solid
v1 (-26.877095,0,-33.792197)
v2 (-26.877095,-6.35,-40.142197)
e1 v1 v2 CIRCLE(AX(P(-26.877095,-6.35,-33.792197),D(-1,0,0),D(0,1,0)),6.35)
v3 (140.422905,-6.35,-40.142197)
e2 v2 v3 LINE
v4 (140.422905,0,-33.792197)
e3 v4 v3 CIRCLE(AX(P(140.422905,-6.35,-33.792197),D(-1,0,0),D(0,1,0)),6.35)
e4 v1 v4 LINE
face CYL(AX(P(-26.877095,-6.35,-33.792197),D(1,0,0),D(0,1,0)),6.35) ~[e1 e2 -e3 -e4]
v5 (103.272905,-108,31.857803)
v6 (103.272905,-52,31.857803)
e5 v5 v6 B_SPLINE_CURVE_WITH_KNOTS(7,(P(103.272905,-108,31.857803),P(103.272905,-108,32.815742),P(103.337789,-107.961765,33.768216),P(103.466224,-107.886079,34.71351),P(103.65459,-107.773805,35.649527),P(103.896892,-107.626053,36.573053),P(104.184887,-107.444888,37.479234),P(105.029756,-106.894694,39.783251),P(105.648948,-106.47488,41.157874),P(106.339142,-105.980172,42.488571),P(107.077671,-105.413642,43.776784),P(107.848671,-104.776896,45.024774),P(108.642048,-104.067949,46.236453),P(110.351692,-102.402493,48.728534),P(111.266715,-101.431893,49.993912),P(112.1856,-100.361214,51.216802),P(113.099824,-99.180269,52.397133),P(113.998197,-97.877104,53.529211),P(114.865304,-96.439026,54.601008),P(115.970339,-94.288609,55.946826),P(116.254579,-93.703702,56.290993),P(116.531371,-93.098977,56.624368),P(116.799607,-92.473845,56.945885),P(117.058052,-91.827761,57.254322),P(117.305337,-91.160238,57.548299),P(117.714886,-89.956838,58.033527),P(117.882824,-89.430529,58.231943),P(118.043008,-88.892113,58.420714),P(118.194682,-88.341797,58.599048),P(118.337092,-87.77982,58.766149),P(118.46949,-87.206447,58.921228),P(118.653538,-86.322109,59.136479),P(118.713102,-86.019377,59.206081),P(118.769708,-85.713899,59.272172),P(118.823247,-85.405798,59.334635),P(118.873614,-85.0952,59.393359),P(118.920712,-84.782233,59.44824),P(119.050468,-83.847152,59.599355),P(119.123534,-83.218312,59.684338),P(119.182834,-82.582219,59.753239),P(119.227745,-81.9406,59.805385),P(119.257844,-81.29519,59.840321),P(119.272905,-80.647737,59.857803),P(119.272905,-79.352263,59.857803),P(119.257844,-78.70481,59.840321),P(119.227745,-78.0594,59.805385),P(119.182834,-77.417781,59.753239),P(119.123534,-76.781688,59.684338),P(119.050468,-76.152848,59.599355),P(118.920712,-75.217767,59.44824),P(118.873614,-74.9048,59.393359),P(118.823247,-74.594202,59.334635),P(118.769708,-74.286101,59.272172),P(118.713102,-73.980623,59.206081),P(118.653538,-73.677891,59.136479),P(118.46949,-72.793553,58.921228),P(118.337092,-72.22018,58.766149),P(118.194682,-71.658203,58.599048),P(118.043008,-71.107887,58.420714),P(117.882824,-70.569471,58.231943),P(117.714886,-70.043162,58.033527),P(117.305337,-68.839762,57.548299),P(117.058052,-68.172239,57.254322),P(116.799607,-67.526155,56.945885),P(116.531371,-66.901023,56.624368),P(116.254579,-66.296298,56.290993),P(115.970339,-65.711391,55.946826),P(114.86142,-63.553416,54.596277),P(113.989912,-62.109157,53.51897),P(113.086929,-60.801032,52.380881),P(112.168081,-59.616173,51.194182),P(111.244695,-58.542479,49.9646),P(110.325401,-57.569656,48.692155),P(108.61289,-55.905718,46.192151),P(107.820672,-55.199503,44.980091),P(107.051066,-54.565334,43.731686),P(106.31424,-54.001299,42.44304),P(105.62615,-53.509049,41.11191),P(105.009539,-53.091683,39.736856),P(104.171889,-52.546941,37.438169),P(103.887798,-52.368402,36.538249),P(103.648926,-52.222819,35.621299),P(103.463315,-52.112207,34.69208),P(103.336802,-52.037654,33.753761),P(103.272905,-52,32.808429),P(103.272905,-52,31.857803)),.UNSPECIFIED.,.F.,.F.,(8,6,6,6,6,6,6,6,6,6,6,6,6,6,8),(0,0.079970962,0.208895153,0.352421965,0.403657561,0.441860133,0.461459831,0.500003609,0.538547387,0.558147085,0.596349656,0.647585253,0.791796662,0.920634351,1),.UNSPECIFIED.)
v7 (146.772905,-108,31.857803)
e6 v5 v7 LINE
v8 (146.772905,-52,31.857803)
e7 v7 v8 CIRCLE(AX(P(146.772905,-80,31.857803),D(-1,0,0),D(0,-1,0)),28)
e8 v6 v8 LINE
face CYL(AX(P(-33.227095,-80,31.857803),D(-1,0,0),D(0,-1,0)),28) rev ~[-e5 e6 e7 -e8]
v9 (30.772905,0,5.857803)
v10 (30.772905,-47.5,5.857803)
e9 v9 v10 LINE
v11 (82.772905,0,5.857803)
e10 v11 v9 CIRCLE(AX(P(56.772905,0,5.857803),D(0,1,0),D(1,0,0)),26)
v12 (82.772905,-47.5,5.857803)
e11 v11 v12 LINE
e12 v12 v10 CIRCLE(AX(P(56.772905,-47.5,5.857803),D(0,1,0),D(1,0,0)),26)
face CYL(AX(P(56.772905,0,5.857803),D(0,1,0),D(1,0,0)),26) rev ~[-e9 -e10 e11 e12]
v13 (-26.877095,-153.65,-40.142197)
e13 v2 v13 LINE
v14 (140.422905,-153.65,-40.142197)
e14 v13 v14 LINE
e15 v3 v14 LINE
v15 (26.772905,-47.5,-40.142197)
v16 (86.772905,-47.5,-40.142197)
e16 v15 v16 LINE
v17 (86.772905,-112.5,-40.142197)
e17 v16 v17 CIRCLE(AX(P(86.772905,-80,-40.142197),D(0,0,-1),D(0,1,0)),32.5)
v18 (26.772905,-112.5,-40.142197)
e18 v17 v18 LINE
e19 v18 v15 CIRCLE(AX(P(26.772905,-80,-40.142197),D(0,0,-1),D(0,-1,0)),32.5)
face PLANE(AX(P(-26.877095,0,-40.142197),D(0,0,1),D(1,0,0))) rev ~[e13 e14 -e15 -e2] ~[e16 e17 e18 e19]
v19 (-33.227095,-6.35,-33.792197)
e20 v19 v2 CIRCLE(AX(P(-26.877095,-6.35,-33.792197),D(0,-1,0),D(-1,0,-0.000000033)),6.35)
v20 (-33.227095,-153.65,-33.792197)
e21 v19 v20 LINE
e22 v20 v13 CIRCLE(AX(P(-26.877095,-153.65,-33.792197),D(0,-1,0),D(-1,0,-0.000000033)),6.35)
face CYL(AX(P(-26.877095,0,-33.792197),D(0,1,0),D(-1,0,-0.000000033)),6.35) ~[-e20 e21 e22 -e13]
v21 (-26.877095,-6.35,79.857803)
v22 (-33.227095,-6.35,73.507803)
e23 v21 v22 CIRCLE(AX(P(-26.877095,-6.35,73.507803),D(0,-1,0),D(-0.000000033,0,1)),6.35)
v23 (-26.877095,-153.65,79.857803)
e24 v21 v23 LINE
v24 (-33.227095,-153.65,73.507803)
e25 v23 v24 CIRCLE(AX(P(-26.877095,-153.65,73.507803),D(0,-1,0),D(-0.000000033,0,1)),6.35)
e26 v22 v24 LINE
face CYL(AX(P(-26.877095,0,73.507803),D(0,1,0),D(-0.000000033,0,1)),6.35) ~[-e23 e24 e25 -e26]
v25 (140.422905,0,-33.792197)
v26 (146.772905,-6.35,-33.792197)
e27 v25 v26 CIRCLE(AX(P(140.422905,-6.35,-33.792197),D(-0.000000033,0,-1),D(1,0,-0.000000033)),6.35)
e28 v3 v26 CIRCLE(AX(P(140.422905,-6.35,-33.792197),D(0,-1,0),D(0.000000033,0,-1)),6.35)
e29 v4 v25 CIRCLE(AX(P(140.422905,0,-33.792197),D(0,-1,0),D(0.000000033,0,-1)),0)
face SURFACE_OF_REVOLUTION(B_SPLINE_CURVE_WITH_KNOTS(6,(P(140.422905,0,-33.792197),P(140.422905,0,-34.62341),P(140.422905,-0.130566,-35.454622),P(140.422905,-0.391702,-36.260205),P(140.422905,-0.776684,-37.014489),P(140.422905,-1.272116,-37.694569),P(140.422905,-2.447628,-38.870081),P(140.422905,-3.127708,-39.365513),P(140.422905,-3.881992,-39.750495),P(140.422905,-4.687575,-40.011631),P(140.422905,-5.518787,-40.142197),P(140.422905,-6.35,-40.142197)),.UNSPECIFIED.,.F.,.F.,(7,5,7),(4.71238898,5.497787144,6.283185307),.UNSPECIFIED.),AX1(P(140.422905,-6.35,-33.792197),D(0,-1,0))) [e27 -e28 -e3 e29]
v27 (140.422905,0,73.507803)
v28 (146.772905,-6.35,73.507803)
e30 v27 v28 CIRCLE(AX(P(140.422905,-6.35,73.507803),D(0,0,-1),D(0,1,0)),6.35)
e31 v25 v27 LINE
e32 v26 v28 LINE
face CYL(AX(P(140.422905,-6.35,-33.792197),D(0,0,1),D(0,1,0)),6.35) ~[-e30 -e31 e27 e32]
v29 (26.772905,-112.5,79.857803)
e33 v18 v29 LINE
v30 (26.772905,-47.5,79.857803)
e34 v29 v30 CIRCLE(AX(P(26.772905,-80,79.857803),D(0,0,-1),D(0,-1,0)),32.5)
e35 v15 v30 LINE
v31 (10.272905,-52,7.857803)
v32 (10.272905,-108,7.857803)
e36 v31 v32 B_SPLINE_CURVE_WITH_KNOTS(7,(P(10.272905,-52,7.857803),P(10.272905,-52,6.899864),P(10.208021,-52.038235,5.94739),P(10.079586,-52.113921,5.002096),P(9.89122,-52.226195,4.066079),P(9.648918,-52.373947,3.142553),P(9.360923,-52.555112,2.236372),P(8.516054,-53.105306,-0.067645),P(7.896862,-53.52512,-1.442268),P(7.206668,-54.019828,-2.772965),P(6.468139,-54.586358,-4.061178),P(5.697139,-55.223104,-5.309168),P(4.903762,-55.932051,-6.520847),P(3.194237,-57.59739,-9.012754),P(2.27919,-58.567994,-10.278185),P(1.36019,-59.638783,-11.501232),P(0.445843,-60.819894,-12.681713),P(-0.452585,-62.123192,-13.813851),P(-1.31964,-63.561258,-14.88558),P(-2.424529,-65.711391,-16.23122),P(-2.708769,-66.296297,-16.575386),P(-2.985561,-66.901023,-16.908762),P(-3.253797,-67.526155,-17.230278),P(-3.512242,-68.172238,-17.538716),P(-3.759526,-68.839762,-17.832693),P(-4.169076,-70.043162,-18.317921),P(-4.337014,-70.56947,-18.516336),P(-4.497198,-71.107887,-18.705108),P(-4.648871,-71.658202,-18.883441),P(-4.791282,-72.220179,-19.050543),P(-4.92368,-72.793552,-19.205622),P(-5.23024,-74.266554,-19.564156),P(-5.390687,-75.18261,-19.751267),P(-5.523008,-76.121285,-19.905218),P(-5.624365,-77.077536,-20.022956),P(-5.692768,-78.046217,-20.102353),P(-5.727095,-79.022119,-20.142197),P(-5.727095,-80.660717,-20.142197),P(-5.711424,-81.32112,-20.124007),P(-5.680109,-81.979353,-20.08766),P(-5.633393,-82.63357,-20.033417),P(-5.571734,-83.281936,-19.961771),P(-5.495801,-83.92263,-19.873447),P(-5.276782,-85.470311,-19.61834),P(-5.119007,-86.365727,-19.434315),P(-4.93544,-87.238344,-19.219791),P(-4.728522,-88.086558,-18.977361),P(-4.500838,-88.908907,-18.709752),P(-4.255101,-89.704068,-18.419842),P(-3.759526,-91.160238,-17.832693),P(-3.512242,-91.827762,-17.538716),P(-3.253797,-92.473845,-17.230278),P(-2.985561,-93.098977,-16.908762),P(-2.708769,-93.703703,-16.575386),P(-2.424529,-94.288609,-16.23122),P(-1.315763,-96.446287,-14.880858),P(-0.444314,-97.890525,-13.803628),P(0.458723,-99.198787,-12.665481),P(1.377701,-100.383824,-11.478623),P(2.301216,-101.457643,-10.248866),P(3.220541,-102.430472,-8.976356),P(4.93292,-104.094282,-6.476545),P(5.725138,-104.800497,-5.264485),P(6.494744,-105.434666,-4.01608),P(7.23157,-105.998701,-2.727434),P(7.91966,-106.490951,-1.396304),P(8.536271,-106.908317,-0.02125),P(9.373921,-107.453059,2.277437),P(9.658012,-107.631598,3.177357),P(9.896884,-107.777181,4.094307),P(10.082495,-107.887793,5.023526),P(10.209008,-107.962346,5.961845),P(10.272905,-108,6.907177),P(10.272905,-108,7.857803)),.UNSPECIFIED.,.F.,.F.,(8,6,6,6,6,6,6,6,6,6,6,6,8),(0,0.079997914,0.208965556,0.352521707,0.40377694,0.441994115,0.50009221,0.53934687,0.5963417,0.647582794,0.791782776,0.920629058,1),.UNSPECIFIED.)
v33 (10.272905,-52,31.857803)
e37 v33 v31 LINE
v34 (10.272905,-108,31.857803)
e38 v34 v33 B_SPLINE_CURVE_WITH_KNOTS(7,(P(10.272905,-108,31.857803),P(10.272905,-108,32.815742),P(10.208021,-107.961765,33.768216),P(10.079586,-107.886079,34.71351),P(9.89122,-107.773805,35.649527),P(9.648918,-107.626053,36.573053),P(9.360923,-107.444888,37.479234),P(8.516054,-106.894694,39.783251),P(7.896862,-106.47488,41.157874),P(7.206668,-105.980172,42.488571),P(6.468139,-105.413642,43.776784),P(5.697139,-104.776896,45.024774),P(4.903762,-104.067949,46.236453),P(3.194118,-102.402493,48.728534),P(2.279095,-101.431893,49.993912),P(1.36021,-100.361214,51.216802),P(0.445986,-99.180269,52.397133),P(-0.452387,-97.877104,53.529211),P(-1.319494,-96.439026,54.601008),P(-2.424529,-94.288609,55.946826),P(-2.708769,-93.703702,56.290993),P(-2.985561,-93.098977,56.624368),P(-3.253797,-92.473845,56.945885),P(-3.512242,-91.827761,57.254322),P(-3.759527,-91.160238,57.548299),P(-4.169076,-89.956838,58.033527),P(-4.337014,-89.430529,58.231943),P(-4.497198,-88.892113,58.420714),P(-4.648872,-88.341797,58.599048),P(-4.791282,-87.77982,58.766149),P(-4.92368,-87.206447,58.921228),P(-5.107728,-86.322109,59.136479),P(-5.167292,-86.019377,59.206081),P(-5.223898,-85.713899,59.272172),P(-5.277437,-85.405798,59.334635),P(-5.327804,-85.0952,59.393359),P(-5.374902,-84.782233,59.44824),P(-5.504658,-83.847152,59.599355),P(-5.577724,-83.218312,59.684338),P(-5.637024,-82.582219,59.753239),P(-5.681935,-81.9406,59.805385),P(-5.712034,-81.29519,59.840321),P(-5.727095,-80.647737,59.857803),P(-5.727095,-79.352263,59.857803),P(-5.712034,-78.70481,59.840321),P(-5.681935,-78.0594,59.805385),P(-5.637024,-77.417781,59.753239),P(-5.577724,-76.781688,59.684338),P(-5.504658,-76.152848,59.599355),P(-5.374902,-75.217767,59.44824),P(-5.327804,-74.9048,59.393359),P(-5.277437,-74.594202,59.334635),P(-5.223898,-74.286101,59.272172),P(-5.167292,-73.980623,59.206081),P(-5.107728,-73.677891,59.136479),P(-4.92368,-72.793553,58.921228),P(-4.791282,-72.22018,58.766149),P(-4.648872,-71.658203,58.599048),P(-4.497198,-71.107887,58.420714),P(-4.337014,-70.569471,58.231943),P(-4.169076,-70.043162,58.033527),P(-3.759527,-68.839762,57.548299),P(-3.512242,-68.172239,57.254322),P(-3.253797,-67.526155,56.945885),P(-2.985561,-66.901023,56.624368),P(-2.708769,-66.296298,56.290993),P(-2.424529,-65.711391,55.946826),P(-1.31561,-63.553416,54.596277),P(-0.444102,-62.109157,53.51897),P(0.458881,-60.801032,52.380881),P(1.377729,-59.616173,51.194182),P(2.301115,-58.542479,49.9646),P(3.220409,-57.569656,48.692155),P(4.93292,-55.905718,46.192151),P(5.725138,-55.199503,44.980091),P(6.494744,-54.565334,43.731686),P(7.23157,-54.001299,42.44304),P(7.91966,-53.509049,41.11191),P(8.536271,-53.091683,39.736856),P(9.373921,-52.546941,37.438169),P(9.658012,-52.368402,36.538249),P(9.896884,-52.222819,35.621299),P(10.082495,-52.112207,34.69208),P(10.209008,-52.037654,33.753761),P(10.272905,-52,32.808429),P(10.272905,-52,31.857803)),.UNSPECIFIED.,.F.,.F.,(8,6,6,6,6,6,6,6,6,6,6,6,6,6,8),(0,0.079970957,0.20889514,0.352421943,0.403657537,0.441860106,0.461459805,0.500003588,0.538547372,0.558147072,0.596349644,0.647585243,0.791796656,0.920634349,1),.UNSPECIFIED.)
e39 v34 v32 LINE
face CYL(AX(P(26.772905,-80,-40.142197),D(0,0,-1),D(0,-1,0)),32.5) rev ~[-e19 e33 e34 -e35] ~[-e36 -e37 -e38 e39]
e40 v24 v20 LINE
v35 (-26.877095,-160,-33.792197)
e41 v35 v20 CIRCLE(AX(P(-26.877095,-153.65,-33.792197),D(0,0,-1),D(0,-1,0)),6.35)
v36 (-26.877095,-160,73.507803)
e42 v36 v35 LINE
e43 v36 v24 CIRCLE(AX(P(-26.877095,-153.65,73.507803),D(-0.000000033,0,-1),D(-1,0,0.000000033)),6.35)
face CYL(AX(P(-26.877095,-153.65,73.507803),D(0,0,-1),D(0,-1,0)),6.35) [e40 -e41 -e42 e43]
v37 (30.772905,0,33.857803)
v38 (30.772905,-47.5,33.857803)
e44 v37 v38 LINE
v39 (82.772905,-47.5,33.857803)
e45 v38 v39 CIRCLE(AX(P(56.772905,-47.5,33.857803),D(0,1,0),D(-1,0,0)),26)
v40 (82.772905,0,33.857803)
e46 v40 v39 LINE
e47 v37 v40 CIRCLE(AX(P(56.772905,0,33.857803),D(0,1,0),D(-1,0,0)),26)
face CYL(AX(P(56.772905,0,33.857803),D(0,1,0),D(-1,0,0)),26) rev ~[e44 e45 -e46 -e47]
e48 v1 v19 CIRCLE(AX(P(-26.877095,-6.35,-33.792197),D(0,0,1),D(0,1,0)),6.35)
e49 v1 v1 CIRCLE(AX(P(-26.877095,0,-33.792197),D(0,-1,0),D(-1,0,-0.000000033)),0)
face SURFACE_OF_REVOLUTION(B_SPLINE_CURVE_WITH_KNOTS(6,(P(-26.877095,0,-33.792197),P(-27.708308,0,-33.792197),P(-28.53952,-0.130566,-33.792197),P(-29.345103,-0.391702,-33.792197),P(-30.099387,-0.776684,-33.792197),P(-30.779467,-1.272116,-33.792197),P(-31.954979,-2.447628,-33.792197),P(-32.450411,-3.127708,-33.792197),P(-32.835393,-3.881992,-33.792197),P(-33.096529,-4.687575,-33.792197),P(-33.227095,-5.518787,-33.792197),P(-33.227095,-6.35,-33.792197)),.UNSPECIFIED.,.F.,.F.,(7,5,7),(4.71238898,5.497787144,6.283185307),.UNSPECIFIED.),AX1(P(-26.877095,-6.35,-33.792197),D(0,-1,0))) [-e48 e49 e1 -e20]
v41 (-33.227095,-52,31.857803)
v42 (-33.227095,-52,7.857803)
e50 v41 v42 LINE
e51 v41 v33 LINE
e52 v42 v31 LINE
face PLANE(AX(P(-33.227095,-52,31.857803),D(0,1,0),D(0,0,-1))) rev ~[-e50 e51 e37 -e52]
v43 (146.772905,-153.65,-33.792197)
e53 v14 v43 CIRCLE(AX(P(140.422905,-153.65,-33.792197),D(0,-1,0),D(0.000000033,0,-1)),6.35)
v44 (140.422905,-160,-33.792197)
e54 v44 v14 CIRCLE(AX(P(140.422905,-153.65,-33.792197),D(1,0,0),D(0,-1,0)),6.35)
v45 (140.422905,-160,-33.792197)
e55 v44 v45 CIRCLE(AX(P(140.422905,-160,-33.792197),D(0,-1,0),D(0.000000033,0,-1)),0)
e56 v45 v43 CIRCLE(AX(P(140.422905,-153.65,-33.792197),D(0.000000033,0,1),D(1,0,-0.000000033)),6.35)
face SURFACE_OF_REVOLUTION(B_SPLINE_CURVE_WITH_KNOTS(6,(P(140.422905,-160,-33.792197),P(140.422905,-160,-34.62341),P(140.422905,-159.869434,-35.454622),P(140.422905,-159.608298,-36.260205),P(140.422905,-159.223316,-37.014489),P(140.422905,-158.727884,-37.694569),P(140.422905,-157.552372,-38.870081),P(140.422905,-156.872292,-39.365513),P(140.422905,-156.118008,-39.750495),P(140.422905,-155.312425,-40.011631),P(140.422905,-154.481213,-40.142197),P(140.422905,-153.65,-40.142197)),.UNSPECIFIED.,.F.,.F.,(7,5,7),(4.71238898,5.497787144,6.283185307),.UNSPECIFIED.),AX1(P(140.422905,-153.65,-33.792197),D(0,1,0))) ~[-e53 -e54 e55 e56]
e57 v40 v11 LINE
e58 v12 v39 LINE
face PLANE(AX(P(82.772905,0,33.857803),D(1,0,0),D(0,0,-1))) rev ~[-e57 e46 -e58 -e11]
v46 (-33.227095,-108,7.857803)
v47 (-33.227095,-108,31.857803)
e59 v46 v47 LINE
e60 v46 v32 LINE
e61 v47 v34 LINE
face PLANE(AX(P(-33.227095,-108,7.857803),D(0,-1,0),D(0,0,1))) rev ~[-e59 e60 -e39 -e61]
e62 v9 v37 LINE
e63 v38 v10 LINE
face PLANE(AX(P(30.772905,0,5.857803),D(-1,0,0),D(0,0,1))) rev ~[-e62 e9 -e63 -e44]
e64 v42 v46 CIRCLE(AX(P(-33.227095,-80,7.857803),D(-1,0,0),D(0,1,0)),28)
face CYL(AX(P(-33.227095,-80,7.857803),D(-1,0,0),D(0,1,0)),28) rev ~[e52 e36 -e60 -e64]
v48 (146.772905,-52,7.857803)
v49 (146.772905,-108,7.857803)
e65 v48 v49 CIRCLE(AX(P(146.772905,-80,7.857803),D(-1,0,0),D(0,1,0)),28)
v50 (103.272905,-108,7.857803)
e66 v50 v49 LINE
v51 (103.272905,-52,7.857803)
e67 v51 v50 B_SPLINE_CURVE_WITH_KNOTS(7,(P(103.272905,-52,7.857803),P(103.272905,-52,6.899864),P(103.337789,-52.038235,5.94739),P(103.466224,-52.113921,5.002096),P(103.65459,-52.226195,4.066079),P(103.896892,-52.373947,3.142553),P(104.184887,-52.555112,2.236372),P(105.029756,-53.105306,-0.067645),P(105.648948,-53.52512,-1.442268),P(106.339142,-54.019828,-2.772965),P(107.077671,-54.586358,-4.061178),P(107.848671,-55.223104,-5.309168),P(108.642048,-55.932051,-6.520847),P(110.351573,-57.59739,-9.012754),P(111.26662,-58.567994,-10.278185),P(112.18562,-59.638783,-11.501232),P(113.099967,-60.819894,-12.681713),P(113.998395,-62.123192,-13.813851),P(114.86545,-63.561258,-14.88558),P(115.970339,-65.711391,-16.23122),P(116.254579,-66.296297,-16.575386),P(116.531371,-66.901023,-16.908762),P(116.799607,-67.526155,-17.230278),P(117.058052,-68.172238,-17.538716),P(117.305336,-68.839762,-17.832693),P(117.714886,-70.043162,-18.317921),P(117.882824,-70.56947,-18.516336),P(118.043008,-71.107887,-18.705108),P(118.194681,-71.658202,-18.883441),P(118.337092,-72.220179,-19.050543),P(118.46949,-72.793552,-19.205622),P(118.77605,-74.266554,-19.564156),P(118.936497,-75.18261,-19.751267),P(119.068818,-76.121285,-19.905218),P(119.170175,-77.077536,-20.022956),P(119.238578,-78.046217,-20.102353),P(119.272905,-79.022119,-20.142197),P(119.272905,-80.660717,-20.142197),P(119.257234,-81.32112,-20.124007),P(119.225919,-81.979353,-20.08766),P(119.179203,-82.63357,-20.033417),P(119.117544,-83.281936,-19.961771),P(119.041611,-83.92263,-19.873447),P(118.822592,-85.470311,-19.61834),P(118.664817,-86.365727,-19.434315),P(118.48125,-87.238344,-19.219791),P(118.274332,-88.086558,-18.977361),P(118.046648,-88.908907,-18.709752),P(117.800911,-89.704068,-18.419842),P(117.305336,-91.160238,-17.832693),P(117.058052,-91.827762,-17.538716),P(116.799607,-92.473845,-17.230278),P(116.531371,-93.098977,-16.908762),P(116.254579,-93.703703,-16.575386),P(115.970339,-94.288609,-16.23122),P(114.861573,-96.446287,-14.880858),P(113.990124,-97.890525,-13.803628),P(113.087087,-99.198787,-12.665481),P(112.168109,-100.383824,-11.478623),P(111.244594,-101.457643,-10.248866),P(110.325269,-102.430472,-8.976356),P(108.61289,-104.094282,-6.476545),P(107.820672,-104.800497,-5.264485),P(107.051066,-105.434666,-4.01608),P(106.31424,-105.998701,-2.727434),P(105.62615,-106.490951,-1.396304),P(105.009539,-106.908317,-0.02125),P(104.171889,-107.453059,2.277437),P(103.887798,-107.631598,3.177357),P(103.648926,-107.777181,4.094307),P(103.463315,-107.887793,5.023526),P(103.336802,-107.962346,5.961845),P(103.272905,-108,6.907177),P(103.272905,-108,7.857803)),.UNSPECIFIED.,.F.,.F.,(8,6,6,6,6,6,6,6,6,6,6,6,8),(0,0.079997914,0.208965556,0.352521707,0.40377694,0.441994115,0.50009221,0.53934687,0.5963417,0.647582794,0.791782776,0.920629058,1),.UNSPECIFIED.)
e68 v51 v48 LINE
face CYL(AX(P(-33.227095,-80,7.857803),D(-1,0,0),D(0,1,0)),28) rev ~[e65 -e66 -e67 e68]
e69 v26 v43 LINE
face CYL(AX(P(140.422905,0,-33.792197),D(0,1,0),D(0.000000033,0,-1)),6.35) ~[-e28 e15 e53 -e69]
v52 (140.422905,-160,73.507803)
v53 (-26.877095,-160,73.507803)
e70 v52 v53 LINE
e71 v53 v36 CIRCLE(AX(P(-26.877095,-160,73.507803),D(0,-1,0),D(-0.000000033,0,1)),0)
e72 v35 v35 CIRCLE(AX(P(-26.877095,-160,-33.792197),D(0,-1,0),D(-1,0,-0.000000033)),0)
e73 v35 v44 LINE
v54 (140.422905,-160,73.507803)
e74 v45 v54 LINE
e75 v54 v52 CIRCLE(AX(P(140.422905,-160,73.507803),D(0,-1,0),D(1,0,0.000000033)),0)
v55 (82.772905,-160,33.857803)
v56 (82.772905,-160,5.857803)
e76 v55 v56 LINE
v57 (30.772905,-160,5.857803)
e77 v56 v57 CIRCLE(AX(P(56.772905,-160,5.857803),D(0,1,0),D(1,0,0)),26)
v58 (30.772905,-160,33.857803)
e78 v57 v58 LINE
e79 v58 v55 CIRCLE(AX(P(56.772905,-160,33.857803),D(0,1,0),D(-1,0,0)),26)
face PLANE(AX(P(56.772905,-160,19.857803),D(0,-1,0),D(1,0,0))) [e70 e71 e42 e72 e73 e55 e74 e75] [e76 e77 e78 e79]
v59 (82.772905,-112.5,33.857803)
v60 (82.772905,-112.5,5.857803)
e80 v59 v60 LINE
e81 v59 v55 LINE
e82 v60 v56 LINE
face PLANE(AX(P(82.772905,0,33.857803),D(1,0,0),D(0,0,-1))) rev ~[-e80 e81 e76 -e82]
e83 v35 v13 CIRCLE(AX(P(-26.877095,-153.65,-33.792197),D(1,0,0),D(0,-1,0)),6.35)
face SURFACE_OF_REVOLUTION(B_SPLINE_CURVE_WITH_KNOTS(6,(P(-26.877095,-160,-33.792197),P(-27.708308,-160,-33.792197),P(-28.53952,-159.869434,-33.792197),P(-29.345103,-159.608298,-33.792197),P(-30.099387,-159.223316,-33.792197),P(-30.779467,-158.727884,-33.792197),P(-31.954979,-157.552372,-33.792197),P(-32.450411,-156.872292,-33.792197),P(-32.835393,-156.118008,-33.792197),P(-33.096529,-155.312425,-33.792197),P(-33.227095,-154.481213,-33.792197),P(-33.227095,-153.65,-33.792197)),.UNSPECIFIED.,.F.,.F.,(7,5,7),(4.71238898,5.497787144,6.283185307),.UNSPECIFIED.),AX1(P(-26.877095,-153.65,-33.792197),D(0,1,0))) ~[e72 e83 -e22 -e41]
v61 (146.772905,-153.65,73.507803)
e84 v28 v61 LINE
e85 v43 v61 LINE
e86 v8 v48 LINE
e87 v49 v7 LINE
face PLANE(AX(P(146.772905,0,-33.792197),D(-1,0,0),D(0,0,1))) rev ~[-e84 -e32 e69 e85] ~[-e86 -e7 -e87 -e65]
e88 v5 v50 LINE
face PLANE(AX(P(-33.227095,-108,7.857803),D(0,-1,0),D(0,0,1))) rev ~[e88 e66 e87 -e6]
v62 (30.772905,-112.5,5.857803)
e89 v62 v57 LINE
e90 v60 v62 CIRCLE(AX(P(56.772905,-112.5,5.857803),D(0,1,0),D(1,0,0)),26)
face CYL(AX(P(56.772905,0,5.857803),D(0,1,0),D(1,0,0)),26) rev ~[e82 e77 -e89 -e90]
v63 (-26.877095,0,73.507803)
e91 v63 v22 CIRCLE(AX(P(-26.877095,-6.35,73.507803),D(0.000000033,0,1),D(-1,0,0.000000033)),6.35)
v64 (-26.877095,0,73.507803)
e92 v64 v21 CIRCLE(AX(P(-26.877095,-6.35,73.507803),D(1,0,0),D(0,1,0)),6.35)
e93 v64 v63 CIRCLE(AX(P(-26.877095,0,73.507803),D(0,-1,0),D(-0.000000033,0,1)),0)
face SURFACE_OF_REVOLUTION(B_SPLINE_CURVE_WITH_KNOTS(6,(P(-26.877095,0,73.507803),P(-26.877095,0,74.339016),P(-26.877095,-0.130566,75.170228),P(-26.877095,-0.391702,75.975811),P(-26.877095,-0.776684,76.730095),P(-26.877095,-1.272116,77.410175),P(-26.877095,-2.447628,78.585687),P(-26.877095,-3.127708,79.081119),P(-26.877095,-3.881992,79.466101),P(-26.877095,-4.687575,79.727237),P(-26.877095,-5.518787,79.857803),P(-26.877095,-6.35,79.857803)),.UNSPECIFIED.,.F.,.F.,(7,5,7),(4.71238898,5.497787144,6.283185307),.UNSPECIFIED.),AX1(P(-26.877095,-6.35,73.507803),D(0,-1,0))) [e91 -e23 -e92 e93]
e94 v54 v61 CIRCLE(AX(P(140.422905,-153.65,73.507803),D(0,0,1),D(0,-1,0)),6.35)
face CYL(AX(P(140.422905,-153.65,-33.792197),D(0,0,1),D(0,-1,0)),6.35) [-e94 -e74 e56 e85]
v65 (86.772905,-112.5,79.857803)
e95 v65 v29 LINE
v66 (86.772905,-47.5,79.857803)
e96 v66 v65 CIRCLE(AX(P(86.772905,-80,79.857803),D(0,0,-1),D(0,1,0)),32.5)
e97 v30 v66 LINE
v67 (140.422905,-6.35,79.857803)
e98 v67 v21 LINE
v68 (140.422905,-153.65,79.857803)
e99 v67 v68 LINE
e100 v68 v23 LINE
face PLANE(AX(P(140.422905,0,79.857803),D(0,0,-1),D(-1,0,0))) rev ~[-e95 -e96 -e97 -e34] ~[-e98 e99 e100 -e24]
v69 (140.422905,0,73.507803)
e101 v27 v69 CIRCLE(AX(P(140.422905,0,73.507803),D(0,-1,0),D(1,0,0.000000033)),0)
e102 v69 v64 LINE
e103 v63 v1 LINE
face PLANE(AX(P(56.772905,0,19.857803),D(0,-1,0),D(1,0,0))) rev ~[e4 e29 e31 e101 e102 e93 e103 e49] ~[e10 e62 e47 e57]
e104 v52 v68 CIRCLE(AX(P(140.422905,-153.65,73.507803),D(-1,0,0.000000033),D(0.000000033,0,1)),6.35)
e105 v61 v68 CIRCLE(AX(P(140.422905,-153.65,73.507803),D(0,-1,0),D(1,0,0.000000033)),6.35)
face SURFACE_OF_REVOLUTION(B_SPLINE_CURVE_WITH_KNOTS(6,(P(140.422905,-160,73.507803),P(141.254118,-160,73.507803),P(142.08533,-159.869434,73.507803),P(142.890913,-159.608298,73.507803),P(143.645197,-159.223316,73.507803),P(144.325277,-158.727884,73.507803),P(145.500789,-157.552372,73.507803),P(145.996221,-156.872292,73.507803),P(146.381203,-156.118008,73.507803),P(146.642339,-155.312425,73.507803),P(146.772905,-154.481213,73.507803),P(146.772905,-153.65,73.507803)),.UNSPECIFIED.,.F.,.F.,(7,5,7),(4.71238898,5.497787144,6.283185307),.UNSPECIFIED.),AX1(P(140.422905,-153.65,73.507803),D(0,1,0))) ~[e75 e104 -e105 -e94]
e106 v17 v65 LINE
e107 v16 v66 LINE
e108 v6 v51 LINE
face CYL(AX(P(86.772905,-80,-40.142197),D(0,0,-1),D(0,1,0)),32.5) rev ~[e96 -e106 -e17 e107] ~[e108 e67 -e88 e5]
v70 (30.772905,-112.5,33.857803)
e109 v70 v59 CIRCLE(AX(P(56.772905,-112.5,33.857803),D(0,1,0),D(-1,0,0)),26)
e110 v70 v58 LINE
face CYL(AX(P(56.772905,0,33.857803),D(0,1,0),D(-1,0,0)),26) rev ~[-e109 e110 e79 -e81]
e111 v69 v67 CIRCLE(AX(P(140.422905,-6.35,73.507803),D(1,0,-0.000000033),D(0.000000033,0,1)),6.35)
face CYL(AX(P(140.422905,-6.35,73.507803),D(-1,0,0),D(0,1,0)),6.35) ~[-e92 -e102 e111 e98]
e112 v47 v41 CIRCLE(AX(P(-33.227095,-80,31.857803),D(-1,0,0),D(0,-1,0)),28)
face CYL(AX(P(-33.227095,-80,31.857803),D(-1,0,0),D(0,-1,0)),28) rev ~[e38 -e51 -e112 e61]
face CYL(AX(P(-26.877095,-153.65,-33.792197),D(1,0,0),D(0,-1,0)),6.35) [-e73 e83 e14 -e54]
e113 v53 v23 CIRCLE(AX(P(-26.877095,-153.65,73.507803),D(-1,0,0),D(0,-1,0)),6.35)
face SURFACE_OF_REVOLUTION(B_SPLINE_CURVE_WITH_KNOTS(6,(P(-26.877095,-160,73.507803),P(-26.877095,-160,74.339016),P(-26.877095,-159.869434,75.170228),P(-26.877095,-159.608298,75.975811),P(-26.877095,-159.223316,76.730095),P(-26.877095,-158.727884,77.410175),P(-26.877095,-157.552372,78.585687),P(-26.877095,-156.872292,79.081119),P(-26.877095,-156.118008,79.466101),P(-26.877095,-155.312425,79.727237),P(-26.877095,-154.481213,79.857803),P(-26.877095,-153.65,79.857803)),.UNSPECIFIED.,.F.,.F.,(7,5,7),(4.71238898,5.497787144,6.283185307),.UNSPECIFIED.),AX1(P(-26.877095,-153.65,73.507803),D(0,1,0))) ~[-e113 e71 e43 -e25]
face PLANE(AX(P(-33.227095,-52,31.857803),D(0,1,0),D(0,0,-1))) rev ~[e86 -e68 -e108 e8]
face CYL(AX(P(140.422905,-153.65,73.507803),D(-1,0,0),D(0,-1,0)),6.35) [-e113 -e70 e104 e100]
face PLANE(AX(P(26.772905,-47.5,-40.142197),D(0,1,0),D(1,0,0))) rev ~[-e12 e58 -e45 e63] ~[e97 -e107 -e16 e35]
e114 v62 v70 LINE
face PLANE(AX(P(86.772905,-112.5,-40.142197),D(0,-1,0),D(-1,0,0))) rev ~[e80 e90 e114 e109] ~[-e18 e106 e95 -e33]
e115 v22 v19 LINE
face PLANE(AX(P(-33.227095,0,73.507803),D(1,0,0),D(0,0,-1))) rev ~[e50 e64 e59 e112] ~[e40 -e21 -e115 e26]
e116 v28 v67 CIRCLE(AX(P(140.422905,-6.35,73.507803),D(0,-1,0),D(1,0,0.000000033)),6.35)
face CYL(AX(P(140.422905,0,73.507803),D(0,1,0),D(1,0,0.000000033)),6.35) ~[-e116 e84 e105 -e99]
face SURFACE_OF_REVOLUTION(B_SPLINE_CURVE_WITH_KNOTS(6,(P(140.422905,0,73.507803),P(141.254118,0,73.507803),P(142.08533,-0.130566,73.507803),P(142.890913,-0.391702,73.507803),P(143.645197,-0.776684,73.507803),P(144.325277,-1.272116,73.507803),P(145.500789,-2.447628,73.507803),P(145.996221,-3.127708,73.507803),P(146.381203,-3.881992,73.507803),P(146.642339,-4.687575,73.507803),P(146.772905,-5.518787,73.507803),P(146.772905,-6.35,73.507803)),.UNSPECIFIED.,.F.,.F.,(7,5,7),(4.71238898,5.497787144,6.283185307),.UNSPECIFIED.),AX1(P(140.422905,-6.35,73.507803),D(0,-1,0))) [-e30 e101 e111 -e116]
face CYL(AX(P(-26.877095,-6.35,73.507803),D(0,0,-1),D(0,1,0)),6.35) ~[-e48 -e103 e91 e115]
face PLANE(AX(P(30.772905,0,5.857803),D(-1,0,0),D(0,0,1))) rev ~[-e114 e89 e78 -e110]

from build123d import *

# Parameters (mm, degrees)
F1_DEPTH = 160
F3_DEPTH = 120
F5_DEPTH = 180
F6_R     = 6.35
F7_R     = 6.35


with BuildPart() as f1:
    # F0 (on Front) → F1 (new body)
    with BuildSketch(Plane.XZ):
        with BuildLine():
            Line((140.422905, 79.857803), (-26.877095, 79.857803))
            ThreePointArc((-26.877095, 79.857803), (-31.367223, 77.997931), (-33.227095, 73.507803))
            Line((-33.227095, 73.507803), (-33.227095, -33.792197))
            ThreePointArc((-33.227095, -33.792197), (-31.367223, -38.282325), (-26.877095, -40.142197))
            Line((-26.877095, -40.142197), (140.422905, -40.142197))
            ThreePointArc((140.422905, -40.142197), (144.913033, -38.282325), (146.772905, -33.792197))
            Line((146.772905, -33.792197), (146.772905, 73.507803))
            ThreePointArc((146.772905, 73.507803), (144.913033, 77.997931), (140.422905, 79.857803))
        make_face()
        with BuildLine():
            Line((30.772905, 5.857803), (30.772905, 33.857803))
            ThreePointArc((30.772905, 33.857803), (56.772905, 59.857803), (82.772905, 33.857803))
            Line((82.772905, 33.857803), (82.772905, 5.857803))
            ThreePointArc((82.772905, 5.857803), (56.772905, -20.142197), (30.772905, 5.857803))
        make_face(mode=Mode.SUBTRACT)
    extrude(amount=F1_DEPTH)

    # F2 (on face) → F3 (cut)
    with BuildSketch(Plane(origin=(0, 0, -40.142197), x_dir=(1, 0, 0), z_dir=(0, 0, -1))):
        with BuildLine():
            Line((26.772905, 47.5), (86.772905, 47.5))
            ThreePointArc((86.772905, 47.5), (119.272905, 80), (86.772905, 112.5))
            Line((86.772905, 112.5), (26.772905, 112.5))
            ThreePointArc((26.772905, 112.5), (-5.727095, 80), (26.772905, 47.5))
        make_face()
    extrude(amount=-F3_DEPTH, mode=Mode.SUBTRACT)

    # F4 (on face) → F5 (cut)
    with BuildSketch(Plane(origin=(-33.227095, 0, 0), x_dir=(0, -1, 0), z_dir=(-1, 0, 0))):
        with BuildLine():
            ThreePointArc((108, 31.857803), (80, 59.857803), (52, 31.857803))
            Line((52, 31.857803), (52, 7.857803))
            ThreePointArc((52, 7.857803), (80, -20.142197), (108, 7.857803))
            Line((108, 7.857803), (108, 31.857803))
        make_face()
    extrude(amount=-F5_DEPTH, mode=Mode.SUBTRACT)

    # F6
    f6_edges = [f1.edges().sort_by_distance(p)[0] for p in [
        (56.772905, 0, -40.142197),
        (140.422905, -80, -40.142197),
    ]]
    fillet(f6_edges, radius=F6_R)

    # F7
    f7_edges = [f1.edges().sort_by_distance(p)[0] for p in [
        (56.772905, -160, -40.142197),
        (-26.877095, -83.175, -40.142197),
    ]]
    fillet(f7_edges, radius=F7_R)


solid = f1.part
